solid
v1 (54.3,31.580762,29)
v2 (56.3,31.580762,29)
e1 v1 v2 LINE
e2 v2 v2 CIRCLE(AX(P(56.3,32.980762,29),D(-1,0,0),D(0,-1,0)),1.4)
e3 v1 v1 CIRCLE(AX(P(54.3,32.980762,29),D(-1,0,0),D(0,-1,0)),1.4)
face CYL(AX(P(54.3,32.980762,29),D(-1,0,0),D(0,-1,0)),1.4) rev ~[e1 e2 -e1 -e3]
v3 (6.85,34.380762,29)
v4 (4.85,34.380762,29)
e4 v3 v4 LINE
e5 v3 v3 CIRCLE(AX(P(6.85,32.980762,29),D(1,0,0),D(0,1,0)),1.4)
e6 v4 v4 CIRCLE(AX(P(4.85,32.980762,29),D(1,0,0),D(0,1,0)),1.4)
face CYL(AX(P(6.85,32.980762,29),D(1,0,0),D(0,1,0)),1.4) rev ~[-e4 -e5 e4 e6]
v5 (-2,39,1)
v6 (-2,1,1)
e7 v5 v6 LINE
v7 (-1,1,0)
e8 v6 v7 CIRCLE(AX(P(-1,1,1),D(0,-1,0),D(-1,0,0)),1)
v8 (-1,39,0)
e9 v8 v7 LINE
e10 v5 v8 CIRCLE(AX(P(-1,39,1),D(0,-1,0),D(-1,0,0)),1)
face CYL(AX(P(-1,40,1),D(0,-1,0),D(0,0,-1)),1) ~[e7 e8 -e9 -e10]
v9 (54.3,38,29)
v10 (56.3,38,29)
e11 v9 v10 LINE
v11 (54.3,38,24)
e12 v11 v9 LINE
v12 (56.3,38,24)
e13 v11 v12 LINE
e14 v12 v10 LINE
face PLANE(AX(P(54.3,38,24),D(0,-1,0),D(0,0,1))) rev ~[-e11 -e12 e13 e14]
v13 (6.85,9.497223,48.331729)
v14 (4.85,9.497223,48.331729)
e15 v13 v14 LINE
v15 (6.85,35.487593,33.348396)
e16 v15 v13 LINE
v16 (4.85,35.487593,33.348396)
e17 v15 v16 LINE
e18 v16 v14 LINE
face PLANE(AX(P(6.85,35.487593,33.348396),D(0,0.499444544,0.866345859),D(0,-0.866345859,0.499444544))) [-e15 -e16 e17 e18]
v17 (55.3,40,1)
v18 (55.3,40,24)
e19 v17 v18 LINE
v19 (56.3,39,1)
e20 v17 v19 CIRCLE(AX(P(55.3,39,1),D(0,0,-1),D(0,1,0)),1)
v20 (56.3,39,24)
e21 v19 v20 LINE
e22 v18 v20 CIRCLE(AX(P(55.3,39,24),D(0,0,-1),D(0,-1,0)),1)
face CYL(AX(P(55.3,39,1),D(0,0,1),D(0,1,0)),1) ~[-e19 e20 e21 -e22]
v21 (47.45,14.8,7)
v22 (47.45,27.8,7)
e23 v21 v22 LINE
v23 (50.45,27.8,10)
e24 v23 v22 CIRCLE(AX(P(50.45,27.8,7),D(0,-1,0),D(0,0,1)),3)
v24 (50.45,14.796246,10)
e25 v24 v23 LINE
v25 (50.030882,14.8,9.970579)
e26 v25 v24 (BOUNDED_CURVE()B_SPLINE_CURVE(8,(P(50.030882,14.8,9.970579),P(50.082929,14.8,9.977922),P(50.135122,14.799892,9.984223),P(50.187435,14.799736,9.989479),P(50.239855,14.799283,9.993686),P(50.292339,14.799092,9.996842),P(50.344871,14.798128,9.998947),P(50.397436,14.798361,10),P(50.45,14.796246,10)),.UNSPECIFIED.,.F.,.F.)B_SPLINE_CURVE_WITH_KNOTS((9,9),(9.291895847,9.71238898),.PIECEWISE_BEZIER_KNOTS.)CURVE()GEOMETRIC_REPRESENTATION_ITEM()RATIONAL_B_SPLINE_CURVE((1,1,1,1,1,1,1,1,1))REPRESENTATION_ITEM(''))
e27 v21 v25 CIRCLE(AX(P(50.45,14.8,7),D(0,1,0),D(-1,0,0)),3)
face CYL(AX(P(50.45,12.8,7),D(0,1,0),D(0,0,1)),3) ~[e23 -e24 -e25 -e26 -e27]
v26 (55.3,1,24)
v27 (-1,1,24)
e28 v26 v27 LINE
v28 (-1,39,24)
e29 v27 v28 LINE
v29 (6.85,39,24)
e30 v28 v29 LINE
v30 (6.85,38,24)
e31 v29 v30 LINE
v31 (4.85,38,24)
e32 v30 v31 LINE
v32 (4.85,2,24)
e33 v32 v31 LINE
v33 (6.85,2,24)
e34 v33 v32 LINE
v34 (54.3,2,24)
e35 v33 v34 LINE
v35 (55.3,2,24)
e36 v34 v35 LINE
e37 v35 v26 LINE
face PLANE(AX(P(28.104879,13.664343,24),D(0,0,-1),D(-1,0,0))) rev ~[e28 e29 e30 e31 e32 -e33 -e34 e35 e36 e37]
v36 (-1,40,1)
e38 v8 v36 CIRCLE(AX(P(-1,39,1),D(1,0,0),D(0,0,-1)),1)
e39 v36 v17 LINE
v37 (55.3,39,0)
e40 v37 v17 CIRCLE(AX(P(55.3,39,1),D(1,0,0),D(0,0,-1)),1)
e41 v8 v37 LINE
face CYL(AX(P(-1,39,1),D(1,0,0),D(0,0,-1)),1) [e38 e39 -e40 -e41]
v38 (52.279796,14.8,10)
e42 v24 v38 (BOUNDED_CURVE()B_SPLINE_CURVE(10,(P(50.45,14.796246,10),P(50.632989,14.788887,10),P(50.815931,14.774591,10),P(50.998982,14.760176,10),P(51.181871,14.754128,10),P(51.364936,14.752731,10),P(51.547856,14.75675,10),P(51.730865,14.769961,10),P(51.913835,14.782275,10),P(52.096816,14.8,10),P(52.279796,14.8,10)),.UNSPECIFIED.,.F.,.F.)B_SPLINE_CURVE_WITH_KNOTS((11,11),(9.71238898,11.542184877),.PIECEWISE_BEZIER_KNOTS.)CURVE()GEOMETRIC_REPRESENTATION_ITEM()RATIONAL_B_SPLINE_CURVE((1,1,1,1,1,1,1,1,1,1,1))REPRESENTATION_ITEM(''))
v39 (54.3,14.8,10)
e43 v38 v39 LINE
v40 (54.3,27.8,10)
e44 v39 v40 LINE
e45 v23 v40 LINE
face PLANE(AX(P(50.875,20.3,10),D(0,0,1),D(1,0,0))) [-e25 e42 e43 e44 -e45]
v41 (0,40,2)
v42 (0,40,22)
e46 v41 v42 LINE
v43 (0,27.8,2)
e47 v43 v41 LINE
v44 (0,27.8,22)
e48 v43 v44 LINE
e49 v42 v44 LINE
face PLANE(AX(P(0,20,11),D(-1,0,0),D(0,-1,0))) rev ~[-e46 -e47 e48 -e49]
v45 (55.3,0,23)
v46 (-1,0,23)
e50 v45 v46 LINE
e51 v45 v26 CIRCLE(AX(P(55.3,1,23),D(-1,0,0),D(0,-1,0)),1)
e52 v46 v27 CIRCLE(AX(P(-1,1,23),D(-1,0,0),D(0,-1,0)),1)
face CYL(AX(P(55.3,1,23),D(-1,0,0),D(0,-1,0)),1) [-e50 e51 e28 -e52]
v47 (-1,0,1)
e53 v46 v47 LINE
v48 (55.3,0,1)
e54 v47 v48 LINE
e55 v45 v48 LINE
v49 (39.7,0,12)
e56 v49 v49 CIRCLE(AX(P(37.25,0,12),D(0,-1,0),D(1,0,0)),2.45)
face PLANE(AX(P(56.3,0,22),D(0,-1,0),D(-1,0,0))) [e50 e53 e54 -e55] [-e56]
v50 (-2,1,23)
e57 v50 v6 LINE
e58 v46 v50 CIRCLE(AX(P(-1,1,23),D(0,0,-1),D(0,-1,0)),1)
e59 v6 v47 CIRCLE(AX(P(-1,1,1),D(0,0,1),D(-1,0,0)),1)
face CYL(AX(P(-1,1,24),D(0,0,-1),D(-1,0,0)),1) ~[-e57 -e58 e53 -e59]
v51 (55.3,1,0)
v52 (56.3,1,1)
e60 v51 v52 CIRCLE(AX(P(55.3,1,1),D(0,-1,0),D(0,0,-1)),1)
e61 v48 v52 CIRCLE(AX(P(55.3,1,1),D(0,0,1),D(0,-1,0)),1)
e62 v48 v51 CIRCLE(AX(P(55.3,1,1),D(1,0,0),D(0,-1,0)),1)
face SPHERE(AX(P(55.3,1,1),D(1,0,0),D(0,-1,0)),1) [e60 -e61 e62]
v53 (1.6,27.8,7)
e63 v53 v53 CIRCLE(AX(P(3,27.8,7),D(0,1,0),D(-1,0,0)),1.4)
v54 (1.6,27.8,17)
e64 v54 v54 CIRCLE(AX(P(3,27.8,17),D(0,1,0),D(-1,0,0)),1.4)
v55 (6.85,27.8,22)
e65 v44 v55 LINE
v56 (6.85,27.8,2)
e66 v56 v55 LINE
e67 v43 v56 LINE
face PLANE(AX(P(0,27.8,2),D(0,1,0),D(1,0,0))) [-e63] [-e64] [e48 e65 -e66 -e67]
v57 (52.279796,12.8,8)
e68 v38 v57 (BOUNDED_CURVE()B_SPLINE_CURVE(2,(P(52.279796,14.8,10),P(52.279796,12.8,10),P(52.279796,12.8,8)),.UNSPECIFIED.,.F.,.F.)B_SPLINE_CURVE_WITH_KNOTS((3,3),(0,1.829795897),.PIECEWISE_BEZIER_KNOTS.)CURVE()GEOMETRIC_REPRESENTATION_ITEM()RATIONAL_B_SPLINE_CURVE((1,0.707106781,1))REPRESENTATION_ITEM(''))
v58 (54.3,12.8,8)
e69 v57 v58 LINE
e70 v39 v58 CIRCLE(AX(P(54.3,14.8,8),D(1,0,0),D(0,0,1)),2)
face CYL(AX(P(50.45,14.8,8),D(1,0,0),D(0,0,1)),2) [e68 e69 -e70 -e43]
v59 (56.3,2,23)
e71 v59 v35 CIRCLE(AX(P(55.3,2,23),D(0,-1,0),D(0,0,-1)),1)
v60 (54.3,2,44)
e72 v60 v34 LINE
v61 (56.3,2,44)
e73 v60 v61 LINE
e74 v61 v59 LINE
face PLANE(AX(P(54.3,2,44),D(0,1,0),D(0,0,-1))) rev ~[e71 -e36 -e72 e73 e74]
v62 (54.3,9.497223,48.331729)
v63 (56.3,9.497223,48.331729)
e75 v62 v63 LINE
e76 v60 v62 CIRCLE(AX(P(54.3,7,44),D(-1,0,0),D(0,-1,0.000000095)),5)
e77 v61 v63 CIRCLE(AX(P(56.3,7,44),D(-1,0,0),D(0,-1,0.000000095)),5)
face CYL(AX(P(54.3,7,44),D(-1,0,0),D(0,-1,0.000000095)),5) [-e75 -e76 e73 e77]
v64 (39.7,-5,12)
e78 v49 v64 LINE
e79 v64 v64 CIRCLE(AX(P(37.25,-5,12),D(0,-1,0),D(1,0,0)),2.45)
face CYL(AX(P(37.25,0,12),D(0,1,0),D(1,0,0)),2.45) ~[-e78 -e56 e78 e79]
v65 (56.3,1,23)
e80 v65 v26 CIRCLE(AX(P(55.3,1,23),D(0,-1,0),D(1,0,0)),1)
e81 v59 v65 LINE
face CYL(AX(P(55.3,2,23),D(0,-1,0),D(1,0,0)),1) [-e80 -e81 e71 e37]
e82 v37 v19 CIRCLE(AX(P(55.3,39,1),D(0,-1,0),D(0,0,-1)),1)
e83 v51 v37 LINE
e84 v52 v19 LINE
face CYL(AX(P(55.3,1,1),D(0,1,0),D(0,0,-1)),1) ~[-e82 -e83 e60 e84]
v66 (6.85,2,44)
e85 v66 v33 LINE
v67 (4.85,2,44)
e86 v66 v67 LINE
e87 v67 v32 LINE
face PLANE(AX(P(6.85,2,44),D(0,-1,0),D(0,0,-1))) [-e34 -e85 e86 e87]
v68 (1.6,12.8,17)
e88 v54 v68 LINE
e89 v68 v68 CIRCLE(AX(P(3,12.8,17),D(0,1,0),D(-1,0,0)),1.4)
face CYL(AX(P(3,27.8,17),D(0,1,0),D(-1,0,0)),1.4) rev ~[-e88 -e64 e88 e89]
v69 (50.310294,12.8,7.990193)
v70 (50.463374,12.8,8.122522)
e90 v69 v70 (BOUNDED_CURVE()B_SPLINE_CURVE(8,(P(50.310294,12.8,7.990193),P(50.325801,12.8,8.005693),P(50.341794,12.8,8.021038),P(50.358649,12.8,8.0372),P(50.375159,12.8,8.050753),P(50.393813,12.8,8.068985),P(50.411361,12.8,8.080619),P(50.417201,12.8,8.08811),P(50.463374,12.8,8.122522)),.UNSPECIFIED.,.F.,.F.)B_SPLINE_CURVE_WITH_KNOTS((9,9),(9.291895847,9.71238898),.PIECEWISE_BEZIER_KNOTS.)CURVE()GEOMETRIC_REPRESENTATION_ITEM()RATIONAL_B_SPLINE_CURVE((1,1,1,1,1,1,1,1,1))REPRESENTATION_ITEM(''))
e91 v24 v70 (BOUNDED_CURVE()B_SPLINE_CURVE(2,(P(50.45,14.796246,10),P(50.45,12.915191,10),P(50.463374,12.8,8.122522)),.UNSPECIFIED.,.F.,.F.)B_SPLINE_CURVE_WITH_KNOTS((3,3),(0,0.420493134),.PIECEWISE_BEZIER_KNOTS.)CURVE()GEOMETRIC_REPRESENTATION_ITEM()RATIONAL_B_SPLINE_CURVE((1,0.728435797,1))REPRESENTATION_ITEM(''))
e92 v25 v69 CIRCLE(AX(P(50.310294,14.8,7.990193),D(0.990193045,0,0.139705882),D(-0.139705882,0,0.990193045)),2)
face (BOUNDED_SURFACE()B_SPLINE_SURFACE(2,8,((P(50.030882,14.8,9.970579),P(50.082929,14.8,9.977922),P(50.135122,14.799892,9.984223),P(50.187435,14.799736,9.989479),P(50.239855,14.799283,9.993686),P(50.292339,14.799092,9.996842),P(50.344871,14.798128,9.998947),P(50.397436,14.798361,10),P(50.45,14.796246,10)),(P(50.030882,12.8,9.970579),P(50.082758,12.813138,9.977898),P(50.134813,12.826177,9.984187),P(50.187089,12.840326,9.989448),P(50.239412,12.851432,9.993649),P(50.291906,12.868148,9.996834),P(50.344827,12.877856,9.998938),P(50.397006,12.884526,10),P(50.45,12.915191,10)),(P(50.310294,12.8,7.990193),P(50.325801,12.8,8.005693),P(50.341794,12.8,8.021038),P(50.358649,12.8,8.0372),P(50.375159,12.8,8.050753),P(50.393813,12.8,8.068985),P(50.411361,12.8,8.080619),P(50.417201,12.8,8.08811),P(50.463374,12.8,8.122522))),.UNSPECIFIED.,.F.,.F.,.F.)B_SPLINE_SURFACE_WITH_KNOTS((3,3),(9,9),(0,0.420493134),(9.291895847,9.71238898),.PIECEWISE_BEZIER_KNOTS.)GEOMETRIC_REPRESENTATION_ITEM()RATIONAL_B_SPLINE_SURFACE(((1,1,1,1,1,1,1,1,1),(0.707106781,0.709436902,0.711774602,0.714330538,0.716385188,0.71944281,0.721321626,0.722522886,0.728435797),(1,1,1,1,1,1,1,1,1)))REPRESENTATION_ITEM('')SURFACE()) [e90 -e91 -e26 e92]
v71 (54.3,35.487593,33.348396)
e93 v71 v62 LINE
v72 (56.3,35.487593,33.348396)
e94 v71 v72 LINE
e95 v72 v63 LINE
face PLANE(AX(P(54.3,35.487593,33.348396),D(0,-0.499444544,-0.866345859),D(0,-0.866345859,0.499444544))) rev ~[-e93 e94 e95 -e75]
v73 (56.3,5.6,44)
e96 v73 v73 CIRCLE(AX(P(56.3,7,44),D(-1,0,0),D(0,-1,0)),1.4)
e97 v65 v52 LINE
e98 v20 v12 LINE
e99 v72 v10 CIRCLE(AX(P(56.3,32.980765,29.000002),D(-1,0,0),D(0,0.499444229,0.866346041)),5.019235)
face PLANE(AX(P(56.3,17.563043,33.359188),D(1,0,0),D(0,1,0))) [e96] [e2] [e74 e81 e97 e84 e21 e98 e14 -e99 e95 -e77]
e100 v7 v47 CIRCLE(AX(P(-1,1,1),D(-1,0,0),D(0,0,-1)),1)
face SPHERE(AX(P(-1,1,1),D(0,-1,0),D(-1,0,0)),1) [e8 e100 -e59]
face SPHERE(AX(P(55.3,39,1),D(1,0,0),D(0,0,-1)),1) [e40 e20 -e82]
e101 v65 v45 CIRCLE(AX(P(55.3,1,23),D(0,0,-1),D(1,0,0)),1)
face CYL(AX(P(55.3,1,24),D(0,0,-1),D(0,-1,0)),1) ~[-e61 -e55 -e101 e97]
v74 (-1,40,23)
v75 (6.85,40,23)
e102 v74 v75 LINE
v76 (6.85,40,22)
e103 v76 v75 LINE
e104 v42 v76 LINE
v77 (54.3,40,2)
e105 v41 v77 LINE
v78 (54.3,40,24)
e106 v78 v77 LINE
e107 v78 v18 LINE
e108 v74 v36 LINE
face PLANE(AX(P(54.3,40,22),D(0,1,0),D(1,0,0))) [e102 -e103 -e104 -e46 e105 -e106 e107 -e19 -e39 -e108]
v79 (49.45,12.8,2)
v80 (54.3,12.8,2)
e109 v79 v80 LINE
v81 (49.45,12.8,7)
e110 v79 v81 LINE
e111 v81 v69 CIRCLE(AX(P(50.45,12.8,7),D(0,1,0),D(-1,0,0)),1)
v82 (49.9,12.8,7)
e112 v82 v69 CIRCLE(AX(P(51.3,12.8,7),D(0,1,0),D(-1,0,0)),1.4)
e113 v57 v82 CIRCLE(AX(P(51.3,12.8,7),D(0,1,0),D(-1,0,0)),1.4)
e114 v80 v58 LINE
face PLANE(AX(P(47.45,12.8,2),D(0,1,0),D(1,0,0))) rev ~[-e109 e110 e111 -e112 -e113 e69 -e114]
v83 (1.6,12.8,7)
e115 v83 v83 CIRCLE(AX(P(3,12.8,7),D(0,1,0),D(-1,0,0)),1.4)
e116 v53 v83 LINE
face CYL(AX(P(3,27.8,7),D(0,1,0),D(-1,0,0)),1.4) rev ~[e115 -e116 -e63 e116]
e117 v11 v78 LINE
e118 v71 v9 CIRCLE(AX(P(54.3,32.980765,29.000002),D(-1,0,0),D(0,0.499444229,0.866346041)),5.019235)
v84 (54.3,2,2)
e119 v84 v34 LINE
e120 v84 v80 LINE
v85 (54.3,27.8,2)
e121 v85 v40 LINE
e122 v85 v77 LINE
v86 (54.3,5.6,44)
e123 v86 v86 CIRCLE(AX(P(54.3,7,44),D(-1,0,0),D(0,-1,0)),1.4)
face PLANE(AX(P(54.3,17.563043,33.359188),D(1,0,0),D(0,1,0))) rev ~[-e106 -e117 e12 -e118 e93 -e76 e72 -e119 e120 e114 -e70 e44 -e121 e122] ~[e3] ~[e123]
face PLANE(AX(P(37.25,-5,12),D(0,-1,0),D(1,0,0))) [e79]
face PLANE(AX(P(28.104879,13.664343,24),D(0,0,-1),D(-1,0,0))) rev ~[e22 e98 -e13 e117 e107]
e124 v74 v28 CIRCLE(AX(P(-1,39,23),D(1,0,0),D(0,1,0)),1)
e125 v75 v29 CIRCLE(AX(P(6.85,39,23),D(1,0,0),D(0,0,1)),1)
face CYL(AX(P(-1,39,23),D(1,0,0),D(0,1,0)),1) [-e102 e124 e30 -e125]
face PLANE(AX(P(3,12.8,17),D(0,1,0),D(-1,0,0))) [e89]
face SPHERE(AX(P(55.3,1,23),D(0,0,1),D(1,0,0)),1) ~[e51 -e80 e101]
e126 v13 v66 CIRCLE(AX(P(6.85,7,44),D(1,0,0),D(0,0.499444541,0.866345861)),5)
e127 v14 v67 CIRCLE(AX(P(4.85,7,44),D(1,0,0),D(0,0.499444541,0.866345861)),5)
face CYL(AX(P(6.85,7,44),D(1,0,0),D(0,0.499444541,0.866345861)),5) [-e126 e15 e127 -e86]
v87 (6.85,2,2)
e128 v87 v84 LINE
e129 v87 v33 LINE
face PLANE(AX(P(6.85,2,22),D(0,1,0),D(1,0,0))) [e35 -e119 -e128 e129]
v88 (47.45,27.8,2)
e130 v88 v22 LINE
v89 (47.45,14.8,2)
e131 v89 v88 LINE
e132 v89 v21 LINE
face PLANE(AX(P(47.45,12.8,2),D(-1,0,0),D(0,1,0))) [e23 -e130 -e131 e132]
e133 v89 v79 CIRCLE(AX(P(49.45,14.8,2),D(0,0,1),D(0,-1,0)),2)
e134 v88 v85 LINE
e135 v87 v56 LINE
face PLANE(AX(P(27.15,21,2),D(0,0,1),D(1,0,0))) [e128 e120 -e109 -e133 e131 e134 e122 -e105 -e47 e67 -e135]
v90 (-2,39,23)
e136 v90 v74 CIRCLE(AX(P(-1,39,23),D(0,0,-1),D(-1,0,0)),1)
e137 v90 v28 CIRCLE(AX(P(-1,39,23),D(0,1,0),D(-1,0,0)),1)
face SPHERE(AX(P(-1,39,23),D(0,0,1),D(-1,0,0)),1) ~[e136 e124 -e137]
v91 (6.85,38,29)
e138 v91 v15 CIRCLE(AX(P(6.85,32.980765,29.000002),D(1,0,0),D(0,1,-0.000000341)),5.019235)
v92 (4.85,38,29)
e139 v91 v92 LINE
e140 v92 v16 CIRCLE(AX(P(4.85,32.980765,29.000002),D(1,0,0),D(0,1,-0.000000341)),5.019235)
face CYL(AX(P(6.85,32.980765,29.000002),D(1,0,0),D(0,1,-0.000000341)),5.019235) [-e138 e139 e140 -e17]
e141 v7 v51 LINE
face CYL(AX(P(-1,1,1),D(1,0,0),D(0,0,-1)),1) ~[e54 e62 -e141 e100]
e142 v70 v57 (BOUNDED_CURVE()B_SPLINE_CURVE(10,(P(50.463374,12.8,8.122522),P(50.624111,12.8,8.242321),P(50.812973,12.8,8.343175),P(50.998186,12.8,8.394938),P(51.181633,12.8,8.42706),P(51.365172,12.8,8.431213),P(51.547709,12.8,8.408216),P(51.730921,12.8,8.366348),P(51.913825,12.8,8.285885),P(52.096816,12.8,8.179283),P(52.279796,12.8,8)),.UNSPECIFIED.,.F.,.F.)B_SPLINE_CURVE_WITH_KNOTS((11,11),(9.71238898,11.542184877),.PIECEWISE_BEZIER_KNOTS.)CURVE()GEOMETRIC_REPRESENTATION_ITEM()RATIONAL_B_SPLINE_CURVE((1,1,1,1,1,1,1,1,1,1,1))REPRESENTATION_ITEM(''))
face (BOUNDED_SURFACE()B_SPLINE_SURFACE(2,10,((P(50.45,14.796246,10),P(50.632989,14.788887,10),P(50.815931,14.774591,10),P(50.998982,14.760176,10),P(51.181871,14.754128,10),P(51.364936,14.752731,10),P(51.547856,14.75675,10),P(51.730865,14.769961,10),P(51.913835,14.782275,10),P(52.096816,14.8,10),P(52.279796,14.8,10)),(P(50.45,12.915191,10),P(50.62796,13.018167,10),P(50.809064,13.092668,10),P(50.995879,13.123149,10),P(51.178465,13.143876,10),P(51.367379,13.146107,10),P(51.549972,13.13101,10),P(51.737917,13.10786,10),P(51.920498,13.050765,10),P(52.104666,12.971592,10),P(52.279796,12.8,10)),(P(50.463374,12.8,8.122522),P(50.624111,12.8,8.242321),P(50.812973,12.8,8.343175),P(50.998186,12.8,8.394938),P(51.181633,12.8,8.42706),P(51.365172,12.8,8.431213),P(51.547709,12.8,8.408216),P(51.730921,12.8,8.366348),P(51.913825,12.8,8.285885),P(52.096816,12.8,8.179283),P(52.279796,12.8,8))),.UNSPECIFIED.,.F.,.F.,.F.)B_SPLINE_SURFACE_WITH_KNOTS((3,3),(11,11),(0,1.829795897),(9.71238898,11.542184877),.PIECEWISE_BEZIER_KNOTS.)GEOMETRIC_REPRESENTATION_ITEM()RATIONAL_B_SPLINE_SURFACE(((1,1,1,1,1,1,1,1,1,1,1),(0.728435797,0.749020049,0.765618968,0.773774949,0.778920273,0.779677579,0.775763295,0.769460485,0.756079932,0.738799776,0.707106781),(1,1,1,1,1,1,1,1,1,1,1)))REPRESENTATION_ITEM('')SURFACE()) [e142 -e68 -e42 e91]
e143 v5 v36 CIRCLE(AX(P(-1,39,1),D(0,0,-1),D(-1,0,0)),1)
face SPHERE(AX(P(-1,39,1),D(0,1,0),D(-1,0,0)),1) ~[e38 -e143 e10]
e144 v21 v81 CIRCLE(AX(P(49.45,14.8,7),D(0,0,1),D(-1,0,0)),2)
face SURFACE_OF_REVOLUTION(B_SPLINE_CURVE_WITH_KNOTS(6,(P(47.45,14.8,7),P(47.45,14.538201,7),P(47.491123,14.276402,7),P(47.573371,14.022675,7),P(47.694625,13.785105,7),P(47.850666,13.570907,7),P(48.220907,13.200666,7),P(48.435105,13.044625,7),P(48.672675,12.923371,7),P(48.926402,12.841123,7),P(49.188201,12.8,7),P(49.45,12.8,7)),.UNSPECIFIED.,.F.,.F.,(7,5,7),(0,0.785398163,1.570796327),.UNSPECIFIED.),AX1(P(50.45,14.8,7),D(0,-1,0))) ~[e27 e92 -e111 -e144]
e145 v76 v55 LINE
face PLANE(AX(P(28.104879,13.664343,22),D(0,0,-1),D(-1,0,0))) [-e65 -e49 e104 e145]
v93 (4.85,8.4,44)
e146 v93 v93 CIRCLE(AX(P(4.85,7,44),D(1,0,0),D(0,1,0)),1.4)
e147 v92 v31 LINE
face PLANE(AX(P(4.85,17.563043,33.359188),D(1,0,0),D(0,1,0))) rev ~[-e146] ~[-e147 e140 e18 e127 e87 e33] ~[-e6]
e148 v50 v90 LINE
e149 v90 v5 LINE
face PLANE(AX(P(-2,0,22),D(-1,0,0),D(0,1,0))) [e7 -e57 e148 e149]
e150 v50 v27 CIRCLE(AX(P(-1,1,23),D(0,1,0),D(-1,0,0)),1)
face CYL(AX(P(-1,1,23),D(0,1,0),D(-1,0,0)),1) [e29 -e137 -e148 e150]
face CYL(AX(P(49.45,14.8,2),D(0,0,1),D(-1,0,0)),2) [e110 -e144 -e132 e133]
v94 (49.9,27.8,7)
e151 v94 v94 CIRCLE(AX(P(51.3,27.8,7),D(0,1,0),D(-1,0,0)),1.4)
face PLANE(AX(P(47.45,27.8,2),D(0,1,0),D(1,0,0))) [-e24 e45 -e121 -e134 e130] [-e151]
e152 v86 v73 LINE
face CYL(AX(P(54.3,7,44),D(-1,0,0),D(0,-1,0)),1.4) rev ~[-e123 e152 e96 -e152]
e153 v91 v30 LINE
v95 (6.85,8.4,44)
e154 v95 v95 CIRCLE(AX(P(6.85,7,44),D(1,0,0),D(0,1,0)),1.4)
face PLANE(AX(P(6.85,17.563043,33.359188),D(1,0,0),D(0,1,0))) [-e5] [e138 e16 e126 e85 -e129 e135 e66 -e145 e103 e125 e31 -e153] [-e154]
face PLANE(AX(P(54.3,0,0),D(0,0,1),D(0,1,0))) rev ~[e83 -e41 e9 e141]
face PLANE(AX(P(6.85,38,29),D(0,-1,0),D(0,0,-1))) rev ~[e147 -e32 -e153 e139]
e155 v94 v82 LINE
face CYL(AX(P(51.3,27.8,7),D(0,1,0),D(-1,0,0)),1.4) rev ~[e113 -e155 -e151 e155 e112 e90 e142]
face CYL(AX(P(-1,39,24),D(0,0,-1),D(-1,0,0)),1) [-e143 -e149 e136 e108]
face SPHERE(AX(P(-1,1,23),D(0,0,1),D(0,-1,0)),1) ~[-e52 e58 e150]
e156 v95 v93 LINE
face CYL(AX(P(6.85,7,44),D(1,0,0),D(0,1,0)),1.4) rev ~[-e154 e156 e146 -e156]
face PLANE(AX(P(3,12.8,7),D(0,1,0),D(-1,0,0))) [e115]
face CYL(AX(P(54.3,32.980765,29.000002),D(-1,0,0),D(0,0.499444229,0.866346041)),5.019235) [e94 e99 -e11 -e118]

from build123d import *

# Parameters (mm, degrees)
SKETCH_W        = 54.3
SKETCH_H        = 38
PAD_DEPTH       = 2
SKETCH001_W     = 54.3
SKETCH001_H     = 2
PAD001_DEPTH    = 22
SKETCH002_R     = 2.45
PAD002_DEPTH    = 5
SKETCH003_W     = 40
SKETCH003_H     = 22
PAD003_DEPTH    = 2
SKETCH004_W     = 40
SKETCH004_H     = 22
PAD004_DEPTH    = 2
SKETCH005_W     = 6.85
SKETCH005_H     = 15
PAD005_DEPTH    = 8
SKETCH006_R     = 1.4
POCKET_DEPTH    = 15
FILLET_R        = 3
FILLET001_R     = 2
SKETCH007_W     = 6.85
SKETCH007_H     = 25.8
PAD006_DEPTH    = 20
SKETCH008_R     = 1.4
POCKET001_DEPTH = 15
PAD007_DEPTH    = 2
SKETCH010_R     = 1.4
PAD008_DEPTH    = 2
SKETCH011_R     = 1.4
PAD009_DEPTH    = 2
FILLET002_R     = 1
FILLET003_R     = 1
FILLET004_R     = 1
FILLET005_R     = 1
FILLET006_R     = 1


with BuildPart() as part:
    # Sketch → Pad (new body)
    with BuildSketch(Plane.XY):
        with Locations((27.15, 21)):
            Rectangle(SKETCH_W, SKETCH_H)
    extrude(amount=PAD_DEPTH)

    # Sketch001 → Pad001 (join)
    with BuildSketch(Plane.XY):
        with Locations((27.15, 1)):
            Rectangle(SKETCH001_W, SKETCH001_H)
    extrude(amount=PAD001_DEPTH)

    # Sketch002 → Pad002 (join)
    with BuildSketch(Plane.XZ):
        with Locations((37.25, 12)):
            Circle(SKETCH002_R)
    extrude(amount=PAD002_DEPTH)

    # Sketch003 (on Face2 of Pad002) → Pad003 (join)
    with BuildSketch(Plane(origin=(0, 0, 0), x_dir=(0, -1, 0), z_dir=(-1, 0, 0))):
        with Locations((-20, 11)):
            Rectangle(SKETCH003_W, SKETCH003_H)
    extrude(amount=PAD003_DEPTH)

    # Sketch004 (on Face3 of Pad003) → Pad004 (join)
    with BuildSketch(Plane.YZ.offset(54.3)):
        with Locations((20, 11)):
            Rectangle(SKETCH004_W, SKETCH004_H)
    extrude(amount=PAD004_DEPTH)

    # Sketch005 (on Face5 of Pad004) → Pad005 (join)
    with BuildSketch(Plane.XY.offset(2)):
        with Locations((50.875, 20.3)):
            Rectangle(SKETCH005_W, SKETCH005_H)
    extrude(amount=PAD005_DEPTH)

    # Sketch006 (on Face15 of Pad005) → Pocket (cut)
    with BuildSketch(Plane(origin=(0, 27.8, 0), x_dir=(-1, 0, 0), z_dir=(0, 1, 0))):
        with Locations((-51.3, 7)):
            Circle(SKETCH006_R)
    extrude(amount=-POCKET_DEPTH, mode=Mode.SUBTRACT)

    # Fillet
    fillet_edges = [part.edges().sort_by_distance(p)[0] for p in [
        (47.45, 20.3, 10),
    ]]
    fillet(fillet_edges, radius=FILLET_R)

    # Fillet001
    fillet001_edges = [part.edges().sort_by_distance(p)[0] for p in [
        (52.375, 12.8, 10),
    ]]
    fillet(fillet001_edges, radius=FILLET001_R)

    # Sketch007 (on Face5 of Fillet001) → Pad006 (join)
    with BuildSketch(Plane.XY.offset(2)):
        with Locations((3.425, 14.9)):
            Rectangle(SKETCH007_W, SKETCH007_H)
    extrude(amount=PAD006_DEPTH)

    # Sketch008 (on Face14 of Pad006) → Pocket001 (cut)
    with BuildSketch(Plane(origin=(0, 27.8, 0), x_dir=(-1, 0, 0), z_dir=(0, 1, 0))):
        with Locations((-3, 7)):
            Circle(SKETCH008_R)
        with Locations((-3, 17)):
            Circle(SKETCH008_R)
    extrude(amount=-POCKET001_DEPTH, mode=Mode.SUBTRACT)

    # Sketch009 (on Face21 of Pocket001) → Pad007 (join)
    with BuildSketch(Plane.XY.offset(22)):
        Polygon((54.3, 2), (54.3, 40), (56.3, 40), (56.3, 0), (-2, 0), (-2, 40), (6.85, 40), (6.85, 2), align=None)
    extrude(amount=PAD007_DEPTH)

    # Sketch010 (on Face22 of Pad007) → Pad008 (join)
    with BuildSketch(Plane.YZ.offset(6.85)):
        with BuildLine():
            Line((2, 24), (38, 24))
            Line((38, 29), (38, 24))
            ThreePointArc((38, 29), (37.326745, 31.511013), (35.487593, 33.348396))
            Line((35.487593, 33.348396), (9.497223, 48.331729))
            ThreePointArc((9.497223, 48.331729), (4.498612, 48.329325), (2, 44))
            Line((2, 44), (2, 24))
        make_face()
        with Locations((7, 44)):
            Circle(SKETCH010_R, mode=Mode.SUBTRACT)
        with Locations((32.980762, 29)):
            Circle(SKETCH010_R, mode=Mode.SUBTRACT)
    extrude(amount=-PAD008_DEPTH)

    # Sketch011 (on Face20 of Pad008) → Pad009 (join)
    with BuildSketch(Plane(origin=(54.3, 0, 0), x_dir=(0, -1, 0), z_dir=(-1, 0, 0))):
        with BuildLine():
            Line((-38, 24), (-38, 29))
            ThreePointArc((-35.487593, 33.348396), (-37.326745, 31.511013), (-38, 29))
            Line((-35.487593, 33.348396), (-9.497223, 48.331729))
            ThreePointArc((-2, 44), (-4.498612, 48.329325), (-9.497223, 48.331729))
            Line((-2, 44), (-2, 24))
            Line((-2, 24), (-38, 24))
        make_face()
        with Locations((-7, 44)):
            Circle(SKETCH011_R, mode=Mode.SUBTRACT)
        with Locations((-32.980762, 29)):
            Circle(SKETCH011_R, mode=Mode.SUBTRACT)
    extrude(amount=-PAD009_DEPTH)

    # Fillet002
    fillet002_edges = [part.edges().sort_by_distance(p)[0] for p in [
        (-2, 20, 0),
    ]]
    fillet(fillet002_edges, radius=FILLET002_R)

    # Fillet003
    fillet003_edges = [part.edges().sort_by_distance(p)[0] for p in [
        (27.15, 0, 0),
    ]]
    fillet(fillet003_edges, radius=FILLET003_R)

    # Fillet004
    fillet004_edges = [part.edges().sort_by_distance(p)[0] for p in [
        (27.15, 40, 0),
    ]]
    fillet(fillet004_edges, radius=FILLET004_R)

    # Fillet005
    fillet005_edges = [part.edges().sort_by_distance(p)[0] for p in [
        (56.3, 20, 0),
    ]]
    fillet(fillet005_edges, radius=FILLET005_R)

    # Fillet006
    fillet006_edges = [part.edges().sort_by_distance(p)[0] for p in [
        (27.15, 0, 24),
    ]]
    fillet(fillet006_edges, radius=FILLET006_R)


solid = part.part
